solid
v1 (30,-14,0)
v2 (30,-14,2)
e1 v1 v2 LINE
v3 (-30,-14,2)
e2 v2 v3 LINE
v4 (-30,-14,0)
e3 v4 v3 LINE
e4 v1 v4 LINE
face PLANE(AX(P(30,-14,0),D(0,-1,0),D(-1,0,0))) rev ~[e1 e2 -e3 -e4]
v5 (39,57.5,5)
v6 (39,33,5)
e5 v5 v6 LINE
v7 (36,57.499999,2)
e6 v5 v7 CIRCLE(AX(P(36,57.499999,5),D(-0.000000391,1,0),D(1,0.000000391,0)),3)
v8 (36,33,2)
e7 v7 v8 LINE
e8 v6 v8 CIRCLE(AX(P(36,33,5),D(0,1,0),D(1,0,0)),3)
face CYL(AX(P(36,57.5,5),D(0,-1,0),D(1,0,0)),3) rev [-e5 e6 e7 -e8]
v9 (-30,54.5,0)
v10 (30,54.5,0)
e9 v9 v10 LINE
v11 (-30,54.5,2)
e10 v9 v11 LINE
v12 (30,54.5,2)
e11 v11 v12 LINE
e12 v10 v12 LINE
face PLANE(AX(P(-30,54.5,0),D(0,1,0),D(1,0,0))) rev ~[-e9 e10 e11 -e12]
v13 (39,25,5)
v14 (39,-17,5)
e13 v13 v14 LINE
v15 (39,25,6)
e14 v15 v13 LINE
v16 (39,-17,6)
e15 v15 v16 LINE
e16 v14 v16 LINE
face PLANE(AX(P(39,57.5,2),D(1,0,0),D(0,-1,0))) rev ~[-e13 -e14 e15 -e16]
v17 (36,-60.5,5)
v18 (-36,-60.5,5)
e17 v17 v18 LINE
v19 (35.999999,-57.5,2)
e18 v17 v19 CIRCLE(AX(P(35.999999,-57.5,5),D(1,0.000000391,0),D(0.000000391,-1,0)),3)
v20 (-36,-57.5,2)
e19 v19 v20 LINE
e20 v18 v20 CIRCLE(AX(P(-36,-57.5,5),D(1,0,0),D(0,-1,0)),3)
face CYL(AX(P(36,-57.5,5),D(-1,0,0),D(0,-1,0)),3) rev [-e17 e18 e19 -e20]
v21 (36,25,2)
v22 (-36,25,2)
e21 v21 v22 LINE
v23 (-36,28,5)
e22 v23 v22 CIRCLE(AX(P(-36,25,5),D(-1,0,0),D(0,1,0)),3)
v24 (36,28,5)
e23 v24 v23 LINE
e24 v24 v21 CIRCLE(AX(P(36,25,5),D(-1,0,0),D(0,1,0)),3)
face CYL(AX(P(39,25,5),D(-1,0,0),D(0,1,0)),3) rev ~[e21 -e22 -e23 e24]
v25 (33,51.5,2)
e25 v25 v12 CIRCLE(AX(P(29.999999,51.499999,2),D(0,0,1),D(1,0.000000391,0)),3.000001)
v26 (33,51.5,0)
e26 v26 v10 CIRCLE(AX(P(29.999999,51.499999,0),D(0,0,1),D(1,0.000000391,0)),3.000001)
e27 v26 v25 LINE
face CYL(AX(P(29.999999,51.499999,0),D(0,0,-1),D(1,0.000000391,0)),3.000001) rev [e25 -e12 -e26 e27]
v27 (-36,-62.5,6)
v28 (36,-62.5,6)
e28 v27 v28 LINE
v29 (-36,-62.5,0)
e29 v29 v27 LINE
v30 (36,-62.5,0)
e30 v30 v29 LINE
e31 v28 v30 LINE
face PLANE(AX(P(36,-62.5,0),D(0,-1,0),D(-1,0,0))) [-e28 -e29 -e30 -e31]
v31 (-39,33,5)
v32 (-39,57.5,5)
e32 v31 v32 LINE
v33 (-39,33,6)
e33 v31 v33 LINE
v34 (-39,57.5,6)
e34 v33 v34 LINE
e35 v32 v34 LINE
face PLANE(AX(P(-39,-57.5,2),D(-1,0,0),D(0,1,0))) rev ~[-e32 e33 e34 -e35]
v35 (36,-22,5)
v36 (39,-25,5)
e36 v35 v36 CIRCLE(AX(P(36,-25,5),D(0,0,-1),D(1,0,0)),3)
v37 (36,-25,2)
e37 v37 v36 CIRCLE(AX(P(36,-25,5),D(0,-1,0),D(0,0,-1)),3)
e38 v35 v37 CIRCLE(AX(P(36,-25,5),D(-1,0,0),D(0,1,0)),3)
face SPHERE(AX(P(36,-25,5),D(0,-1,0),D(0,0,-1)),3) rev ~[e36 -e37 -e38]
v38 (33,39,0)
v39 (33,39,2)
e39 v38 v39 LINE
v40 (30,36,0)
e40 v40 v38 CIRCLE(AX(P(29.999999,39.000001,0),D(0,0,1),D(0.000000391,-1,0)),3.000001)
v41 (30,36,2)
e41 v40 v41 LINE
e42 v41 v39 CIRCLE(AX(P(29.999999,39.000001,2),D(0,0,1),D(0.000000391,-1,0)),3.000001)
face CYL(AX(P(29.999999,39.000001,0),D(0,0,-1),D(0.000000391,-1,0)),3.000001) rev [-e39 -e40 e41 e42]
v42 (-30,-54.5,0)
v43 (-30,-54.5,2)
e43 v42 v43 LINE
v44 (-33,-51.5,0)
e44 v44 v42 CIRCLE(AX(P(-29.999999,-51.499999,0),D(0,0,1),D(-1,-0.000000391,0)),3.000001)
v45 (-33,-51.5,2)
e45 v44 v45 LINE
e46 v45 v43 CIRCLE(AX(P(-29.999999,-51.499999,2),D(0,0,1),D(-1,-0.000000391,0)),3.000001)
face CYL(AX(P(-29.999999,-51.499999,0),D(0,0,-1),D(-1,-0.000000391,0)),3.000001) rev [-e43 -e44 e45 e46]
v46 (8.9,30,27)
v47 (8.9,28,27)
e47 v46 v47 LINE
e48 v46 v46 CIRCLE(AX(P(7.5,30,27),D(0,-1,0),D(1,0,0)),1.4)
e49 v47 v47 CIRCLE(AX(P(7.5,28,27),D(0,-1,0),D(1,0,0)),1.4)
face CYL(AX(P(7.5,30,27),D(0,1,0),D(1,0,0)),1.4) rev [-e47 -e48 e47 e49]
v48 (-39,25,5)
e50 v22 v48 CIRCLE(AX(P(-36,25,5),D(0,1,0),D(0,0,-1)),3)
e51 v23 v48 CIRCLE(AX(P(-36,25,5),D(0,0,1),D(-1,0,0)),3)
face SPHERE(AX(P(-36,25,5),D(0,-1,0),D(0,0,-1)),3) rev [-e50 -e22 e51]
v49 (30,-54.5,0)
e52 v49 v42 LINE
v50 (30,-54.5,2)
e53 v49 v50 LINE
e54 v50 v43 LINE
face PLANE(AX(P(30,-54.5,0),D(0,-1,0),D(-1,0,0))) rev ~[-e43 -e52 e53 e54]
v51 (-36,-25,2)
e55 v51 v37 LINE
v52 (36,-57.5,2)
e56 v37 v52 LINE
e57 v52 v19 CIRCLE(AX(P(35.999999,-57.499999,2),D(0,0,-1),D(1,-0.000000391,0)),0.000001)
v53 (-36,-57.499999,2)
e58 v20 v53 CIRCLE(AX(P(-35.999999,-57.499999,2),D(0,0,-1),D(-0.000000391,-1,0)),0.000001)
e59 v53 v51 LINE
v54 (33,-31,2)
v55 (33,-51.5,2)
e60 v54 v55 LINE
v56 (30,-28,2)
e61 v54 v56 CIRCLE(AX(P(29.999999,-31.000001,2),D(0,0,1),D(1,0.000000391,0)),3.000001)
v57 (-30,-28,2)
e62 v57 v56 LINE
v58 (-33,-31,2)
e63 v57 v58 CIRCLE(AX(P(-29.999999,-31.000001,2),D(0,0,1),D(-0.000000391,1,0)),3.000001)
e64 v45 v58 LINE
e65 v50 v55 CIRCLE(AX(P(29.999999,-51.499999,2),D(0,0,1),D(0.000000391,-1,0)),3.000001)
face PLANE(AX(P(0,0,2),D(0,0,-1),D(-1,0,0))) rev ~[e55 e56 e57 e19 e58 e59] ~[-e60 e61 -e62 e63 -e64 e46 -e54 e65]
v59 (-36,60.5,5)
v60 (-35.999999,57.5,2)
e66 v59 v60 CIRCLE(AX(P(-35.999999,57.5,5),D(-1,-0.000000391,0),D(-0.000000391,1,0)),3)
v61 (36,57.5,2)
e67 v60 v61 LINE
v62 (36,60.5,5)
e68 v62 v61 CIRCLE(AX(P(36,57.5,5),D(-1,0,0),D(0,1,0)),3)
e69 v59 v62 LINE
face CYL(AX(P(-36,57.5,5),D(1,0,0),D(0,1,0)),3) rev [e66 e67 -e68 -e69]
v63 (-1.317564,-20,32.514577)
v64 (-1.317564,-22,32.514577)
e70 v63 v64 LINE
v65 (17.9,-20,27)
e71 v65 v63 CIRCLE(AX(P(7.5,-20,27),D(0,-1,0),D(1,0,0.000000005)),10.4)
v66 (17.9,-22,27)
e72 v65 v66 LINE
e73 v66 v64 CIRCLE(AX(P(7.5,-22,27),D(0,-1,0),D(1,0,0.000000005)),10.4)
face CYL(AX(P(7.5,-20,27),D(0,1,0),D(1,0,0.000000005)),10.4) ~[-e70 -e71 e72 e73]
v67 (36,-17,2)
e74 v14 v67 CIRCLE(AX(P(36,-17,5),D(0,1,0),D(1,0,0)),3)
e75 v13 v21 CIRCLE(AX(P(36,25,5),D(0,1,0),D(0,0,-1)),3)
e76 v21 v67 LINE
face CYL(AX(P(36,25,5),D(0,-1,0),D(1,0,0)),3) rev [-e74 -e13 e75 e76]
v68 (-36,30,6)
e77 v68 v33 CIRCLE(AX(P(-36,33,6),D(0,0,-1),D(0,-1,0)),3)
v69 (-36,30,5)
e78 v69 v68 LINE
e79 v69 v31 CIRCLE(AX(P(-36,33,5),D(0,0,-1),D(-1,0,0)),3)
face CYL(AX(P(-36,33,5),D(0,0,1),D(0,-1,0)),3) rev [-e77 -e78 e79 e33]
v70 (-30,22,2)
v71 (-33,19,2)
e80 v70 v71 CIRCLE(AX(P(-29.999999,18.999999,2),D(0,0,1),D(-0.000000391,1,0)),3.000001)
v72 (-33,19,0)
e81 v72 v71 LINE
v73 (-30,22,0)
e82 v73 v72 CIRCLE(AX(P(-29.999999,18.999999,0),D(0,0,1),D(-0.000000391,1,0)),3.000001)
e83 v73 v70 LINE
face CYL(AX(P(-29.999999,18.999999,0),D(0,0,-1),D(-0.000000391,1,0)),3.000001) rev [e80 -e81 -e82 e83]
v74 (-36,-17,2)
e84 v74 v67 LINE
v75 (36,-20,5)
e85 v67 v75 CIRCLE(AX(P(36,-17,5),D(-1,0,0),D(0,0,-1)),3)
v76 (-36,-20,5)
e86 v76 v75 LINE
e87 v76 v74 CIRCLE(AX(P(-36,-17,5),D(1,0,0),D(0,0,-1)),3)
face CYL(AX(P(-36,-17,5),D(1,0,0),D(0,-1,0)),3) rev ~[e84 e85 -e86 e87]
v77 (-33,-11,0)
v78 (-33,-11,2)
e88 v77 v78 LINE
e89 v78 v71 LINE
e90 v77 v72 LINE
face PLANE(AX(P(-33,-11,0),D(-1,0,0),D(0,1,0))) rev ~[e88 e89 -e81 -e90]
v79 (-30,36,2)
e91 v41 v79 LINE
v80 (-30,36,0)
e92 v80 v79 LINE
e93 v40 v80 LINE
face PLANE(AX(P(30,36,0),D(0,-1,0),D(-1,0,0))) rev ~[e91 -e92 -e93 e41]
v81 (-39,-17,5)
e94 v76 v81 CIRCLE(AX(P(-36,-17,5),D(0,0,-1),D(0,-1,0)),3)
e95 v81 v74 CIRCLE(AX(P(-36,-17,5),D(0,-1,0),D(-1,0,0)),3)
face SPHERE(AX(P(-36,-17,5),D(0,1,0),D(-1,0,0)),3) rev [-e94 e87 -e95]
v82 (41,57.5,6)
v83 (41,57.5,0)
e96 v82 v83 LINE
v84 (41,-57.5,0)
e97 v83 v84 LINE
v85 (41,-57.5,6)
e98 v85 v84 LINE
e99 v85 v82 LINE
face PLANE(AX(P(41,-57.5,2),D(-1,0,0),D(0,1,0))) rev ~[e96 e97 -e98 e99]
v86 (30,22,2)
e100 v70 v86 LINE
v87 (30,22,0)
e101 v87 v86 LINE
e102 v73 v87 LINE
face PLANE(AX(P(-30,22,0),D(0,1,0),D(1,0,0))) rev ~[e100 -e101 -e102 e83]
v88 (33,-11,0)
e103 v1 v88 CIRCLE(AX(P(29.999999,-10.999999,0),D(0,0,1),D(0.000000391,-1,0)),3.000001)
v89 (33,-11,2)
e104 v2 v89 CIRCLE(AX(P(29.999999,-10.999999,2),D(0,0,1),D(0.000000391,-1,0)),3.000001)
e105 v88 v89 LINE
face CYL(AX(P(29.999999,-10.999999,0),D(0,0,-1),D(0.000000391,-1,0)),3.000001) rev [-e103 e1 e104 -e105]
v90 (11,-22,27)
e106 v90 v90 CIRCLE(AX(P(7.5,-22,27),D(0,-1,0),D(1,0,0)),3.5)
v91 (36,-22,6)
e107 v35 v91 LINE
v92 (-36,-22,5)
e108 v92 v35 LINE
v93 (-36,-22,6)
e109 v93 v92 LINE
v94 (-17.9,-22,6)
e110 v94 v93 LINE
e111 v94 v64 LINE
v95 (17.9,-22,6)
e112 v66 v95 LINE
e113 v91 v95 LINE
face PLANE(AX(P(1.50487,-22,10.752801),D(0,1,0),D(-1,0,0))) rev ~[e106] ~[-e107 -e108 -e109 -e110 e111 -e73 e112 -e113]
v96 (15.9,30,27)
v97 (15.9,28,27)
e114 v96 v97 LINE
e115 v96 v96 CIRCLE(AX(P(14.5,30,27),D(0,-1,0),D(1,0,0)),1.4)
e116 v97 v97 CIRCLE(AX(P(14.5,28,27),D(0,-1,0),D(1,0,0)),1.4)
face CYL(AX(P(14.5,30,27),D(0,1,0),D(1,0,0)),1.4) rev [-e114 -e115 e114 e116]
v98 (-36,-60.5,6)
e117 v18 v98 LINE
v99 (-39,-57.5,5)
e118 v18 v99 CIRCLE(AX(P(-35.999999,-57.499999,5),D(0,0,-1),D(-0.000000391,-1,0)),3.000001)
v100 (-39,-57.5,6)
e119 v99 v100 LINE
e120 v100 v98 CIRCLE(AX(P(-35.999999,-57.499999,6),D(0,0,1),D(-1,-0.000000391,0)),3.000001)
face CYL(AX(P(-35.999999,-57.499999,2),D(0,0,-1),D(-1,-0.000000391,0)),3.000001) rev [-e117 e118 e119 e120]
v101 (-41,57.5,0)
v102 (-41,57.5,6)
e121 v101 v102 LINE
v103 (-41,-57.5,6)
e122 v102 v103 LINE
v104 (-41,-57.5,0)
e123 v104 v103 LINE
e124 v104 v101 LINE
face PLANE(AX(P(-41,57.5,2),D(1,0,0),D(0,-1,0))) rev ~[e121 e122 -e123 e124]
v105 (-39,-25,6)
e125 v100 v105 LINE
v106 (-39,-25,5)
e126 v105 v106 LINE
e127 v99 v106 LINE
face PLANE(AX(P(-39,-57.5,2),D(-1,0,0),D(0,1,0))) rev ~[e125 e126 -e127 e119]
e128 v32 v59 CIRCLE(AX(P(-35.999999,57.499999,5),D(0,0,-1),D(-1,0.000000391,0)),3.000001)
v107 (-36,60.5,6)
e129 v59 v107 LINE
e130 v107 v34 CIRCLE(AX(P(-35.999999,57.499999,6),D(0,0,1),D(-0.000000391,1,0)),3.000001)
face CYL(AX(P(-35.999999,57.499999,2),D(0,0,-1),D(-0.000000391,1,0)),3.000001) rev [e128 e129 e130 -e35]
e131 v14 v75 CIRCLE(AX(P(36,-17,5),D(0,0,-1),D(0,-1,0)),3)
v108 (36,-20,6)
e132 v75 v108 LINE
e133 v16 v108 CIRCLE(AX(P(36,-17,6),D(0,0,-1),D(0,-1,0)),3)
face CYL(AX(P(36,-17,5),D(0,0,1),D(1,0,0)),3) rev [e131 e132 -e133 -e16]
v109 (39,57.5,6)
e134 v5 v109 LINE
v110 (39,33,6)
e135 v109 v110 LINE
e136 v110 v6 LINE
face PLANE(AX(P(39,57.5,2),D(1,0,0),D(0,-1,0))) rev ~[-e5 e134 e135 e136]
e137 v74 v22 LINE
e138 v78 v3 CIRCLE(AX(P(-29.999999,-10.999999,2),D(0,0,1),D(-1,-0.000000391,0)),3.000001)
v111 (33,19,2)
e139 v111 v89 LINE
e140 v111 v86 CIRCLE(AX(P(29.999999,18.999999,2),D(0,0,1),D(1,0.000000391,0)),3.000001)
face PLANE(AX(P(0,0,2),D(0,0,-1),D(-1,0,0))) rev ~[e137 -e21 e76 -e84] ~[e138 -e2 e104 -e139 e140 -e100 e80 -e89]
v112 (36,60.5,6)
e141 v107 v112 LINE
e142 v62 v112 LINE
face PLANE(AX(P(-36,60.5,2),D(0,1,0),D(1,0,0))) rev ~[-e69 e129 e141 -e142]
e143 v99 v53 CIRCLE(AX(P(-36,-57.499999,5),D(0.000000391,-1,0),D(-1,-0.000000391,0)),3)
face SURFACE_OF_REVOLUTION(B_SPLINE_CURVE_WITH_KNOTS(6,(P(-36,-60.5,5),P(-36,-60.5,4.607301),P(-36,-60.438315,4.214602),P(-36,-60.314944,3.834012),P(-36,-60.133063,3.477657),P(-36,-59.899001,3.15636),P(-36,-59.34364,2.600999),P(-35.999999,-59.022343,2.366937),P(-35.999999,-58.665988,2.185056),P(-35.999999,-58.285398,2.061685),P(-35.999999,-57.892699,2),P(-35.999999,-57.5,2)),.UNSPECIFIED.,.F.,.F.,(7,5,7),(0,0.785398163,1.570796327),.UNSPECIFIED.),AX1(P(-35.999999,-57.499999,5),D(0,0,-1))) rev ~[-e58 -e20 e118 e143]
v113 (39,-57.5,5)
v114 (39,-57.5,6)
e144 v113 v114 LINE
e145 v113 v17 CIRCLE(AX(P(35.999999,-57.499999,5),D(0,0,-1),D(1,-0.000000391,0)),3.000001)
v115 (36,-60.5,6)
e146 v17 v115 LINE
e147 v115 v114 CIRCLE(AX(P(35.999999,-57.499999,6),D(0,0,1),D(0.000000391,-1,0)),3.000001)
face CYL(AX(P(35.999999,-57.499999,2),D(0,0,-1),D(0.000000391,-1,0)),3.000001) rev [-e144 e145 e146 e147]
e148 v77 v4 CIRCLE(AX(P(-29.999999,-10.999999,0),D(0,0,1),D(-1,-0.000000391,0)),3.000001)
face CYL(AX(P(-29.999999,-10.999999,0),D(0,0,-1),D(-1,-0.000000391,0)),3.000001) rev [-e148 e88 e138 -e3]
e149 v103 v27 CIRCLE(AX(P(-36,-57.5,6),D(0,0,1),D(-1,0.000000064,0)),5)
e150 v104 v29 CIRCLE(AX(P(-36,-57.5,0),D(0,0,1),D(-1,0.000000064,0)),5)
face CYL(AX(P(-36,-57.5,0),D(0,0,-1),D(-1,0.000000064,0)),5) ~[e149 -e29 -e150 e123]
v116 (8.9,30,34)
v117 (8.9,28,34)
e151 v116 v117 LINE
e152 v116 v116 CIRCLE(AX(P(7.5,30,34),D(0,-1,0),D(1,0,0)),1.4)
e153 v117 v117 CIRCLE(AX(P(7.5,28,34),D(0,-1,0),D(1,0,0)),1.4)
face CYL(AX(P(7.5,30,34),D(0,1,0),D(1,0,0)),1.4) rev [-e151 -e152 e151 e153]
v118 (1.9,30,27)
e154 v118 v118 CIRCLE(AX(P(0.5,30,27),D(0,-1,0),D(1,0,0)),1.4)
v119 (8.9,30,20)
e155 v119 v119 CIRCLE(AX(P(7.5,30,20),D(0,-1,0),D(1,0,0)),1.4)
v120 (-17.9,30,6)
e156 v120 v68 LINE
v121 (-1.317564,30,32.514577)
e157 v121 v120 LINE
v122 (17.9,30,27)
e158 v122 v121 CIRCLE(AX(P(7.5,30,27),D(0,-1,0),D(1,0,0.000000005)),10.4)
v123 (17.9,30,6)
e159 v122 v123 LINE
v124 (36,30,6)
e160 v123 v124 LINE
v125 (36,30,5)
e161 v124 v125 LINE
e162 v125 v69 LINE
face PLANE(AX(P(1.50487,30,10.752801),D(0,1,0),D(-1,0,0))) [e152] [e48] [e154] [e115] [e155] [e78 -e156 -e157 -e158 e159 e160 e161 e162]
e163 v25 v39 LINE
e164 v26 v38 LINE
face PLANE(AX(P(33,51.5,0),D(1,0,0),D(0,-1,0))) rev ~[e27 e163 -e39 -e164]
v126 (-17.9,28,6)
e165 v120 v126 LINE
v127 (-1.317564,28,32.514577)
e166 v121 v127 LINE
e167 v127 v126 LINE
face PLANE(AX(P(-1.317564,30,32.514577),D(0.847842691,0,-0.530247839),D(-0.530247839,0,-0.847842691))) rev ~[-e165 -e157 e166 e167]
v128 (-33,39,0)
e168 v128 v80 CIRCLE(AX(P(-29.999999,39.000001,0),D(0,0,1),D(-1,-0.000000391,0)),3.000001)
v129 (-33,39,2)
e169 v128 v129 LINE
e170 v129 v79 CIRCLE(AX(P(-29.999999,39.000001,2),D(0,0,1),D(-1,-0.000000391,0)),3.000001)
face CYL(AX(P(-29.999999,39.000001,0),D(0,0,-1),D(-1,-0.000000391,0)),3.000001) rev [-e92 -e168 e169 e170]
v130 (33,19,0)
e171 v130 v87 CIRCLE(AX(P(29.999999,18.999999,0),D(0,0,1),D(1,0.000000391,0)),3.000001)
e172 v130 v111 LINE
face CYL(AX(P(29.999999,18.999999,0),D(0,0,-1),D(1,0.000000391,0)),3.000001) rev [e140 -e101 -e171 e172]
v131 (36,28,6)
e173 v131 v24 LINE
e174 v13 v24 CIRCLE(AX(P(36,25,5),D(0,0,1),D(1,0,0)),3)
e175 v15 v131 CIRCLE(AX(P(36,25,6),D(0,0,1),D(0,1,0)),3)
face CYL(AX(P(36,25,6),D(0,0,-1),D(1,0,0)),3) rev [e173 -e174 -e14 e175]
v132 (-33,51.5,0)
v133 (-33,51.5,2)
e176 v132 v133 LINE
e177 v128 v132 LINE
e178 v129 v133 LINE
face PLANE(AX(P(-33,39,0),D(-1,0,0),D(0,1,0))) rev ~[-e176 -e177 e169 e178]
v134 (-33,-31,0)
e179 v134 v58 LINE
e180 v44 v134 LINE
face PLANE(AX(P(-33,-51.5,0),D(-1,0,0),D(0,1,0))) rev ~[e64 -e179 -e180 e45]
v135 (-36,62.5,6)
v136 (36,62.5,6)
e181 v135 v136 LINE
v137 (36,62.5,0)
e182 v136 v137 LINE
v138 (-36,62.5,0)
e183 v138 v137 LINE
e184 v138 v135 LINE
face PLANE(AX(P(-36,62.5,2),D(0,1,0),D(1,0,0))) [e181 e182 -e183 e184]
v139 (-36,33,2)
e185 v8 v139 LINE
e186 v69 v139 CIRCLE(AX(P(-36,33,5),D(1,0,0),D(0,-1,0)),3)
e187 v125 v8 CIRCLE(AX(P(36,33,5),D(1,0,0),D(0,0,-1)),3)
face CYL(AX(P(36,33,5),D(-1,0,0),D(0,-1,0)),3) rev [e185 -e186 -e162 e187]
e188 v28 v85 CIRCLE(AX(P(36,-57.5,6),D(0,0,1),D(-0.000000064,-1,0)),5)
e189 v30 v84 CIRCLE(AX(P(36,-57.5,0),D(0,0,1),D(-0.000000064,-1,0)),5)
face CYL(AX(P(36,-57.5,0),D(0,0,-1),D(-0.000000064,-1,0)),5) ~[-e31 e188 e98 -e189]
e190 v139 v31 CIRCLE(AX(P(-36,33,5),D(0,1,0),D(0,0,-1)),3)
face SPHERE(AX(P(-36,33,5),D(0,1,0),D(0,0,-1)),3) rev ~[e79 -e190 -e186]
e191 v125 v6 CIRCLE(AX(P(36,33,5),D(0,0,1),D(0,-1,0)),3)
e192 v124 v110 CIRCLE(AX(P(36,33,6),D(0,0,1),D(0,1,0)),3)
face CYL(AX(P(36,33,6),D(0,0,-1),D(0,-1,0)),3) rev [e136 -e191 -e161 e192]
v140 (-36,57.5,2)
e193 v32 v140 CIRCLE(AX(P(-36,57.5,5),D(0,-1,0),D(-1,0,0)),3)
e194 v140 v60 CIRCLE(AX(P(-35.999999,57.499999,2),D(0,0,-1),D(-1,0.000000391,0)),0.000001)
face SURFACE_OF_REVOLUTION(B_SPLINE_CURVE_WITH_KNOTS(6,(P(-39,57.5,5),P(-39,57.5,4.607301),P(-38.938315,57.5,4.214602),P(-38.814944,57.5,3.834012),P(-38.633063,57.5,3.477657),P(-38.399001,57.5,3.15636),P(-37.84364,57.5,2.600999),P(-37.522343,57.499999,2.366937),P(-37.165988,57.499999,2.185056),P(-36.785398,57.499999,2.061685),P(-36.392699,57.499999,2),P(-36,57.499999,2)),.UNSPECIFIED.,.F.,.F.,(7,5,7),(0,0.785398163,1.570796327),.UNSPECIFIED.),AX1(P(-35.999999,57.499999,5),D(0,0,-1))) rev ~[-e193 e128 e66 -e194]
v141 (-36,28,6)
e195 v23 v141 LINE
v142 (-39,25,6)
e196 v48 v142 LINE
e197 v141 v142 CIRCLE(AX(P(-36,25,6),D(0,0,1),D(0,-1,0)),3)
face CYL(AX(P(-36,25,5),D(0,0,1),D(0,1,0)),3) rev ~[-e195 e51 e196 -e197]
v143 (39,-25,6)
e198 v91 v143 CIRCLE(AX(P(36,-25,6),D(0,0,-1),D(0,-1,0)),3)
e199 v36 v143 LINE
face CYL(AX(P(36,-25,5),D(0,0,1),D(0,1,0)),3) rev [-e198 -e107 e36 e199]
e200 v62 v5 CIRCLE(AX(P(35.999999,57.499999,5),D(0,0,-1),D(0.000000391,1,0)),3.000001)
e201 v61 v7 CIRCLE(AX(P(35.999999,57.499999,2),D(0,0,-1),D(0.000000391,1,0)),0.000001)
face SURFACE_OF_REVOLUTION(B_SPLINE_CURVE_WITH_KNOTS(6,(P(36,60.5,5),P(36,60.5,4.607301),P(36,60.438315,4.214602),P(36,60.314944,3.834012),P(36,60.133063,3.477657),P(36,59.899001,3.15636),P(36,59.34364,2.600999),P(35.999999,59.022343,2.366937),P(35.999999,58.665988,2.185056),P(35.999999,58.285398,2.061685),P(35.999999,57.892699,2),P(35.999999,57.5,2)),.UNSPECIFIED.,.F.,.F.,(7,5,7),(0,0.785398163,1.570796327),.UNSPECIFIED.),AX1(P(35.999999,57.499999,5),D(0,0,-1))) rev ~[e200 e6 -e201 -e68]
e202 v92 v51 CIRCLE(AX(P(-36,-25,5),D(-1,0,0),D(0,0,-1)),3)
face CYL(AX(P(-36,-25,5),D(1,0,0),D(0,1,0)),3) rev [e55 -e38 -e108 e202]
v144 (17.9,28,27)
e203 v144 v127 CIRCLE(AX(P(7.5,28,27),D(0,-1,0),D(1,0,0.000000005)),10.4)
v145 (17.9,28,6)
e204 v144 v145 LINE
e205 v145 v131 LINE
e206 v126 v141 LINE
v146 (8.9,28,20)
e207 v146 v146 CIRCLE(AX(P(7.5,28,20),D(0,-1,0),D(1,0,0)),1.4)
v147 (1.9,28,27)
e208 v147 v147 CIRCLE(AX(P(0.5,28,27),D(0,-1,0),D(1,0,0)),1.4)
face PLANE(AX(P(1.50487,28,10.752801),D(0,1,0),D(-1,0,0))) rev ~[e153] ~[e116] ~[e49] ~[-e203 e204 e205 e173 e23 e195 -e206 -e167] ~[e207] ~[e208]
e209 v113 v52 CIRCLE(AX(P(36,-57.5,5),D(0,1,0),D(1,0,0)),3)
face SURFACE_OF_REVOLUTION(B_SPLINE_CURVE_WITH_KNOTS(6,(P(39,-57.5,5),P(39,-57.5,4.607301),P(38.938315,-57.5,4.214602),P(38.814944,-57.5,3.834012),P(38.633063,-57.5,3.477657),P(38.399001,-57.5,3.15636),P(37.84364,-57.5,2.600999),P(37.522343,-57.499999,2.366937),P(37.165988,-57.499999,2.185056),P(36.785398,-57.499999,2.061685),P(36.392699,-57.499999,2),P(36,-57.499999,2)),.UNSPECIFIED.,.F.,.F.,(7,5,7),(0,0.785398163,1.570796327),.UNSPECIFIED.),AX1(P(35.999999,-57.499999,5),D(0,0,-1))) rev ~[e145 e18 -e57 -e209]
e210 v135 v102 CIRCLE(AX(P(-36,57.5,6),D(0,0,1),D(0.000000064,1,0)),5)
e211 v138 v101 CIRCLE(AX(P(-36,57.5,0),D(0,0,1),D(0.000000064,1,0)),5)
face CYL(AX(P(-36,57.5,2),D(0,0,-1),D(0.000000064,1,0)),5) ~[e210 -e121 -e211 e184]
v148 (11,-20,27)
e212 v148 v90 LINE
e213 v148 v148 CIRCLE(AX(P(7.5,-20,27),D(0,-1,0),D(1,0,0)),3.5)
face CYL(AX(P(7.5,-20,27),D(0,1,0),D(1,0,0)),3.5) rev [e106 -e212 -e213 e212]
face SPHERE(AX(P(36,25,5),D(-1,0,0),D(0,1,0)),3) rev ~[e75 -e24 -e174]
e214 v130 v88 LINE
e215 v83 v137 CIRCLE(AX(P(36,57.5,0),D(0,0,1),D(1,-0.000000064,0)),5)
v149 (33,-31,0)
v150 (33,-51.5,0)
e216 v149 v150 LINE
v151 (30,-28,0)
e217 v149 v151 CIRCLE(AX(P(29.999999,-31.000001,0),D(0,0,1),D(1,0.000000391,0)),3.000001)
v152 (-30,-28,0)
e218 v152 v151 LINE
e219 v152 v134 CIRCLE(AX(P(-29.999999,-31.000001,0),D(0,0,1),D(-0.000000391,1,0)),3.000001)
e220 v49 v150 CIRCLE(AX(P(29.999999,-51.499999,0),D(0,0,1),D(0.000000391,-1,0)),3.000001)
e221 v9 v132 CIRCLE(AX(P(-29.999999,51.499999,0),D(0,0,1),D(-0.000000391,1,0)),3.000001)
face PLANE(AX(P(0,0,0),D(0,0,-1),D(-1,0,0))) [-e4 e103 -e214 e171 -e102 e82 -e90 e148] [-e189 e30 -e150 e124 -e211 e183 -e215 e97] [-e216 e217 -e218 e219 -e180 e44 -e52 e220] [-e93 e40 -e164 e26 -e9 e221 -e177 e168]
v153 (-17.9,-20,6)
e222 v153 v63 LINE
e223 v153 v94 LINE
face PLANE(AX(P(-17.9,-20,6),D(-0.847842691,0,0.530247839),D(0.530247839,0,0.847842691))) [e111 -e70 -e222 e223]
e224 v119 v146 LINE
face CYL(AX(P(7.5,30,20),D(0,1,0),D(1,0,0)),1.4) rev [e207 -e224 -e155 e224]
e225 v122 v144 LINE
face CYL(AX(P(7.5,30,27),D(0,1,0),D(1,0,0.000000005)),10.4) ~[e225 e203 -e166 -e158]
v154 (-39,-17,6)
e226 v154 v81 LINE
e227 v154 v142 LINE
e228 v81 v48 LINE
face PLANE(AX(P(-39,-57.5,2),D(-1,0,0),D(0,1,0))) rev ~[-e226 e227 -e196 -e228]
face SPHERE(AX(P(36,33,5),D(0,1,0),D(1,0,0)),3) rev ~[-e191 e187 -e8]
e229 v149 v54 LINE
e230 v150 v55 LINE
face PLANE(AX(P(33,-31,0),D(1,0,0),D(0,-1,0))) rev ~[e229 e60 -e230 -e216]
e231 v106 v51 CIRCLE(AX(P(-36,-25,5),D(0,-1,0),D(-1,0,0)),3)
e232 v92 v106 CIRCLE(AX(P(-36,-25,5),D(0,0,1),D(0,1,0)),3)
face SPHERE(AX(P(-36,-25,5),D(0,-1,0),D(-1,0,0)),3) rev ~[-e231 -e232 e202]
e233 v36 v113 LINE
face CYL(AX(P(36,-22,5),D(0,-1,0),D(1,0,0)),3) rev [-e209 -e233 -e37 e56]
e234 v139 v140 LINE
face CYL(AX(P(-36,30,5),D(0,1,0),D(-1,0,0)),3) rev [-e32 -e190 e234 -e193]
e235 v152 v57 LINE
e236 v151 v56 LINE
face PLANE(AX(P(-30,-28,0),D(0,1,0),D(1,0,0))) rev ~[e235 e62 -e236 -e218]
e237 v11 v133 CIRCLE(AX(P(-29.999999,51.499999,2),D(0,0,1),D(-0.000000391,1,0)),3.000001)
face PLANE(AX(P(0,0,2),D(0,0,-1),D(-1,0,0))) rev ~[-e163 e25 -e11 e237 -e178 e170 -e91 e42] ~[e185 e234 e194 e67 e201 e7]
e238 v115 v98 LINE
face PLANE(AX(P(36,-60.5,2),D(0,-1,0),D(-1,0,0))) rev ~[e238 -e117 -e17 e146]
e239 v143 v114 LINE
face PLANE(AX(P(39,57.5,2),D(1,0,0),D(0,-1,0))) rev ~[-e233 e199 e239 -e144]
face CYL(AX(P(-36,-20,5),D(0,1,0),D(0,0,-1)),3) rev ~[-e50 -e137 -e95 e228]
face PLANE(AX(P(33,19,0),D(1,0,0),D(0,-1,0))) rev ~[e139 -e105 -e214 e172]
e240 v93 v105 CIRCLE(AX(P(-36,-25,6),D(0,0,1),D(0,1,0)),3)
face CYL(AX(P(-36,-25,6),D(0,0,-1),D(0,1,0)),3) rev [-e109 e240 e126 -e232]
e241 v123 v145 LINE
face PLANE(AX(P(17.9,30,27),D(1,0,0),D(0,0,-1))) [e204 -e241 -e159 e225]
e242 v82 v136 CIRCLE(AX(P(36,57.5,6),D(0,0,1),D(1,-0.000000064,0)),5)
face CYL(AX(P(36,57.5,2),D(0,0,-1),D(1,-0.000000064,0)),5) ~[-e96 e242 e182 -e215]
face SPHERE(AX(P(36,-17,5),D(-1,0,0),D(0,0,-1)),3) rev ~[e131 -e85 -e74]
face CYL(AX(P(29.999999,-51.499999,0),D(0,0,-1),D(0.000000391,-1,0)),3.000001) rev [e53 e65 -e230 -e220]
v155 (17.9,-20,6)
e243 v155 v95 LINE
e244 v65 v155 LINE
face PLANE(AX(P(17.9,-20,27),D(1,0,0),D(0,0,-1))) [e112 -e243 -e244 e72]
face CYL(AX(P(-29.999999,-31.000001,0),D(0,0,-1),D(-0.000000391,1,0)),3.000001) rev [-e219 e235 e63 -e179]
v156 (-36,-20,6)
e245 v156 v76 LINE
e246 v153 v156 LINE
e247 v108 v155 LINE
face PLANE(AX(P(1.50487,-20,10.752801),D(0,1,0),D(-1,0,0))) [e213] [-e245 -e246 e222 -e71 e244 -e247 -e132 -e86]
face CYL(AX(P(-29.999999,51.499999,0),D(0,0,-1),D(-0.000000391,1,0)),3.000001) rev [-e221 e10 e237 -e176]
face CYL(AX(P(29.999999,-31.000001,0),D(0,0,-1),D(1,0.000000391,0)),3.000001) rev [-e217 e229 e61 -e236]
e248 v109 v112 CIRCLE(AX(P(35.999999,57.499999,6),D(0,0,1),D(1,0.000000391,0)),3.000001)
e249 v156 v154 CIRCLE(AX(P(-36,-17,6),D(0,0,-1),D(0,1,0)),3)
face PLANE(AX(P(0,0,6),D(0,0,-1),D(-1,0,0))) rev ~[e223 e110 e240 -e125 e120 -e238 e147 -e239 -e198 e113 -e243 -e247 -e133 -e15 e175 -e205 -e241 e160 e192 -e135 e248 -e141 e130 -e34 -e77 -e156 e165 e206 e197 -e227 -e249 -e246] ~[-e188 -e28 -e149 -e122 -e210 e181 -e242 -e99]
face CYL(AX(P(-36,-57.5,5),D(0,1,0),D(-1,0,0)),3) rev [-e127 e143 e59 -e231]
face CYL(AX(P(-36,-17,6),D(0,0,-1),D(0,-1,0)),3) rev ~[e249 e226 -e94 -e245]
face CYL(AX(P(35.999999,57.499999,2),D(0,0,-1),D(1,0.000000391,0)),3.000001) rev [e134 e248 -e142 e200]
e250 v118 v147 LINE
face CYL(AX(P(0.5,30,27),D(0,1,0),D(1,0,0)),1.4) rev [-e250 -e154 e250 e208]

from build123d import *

# Parameters (mm, degrees)
PAD_DEPTH    = 2
SKETCH001_R  = 3.5
PAD001_DEPTH = 2
SKETCH003_R  = 1.4
PAD003_DEPTH = 2
PAD004_DEPTH = 4
FILLET_R     = 3
FILLET001_R  = 3
FILLET002_R  = 3
FILLET003_R  = 3
FILLET004_R  = 3
FILLET005_R  = 3
FILLET006_R  = 3
FILLET007_R  = 3


with BuildPart() as part:
    # Sketch → Pad (new body)
    with BuildSketch(Plane.XY):
        with BuildLine():
            Line((-36, 62.5), (36, 62.5))
            ThreePointArc((41, 57.5), (39.535534, 61.035534), (36, 62.5))
            Line((41, 57.5), (41, -57.5))
            ThreePointArc((36, -62.5), (39.535534, -61.035534), (41, -57.5))
            Line((36, -62.5), (-36, -62.5))
            ThreePointArc((-41, -57.5), (-39.535534, -61.035534), (-36, -62.5))
            Line((-41, -57.5), (-41, 57.5))
            ThreePointArc((-36, 62.5), (-39.535534, 61.035534), (-41, 57.5))
        make_face()
        with BuildLine():
            ThreePointArc((-30, 54.5), (-32.12132, 53.62132), (-33, 51.5))
            Line((-33, 39), (-33, 51.5))
            ThreePointArc((-33, 39), (-32.12132, 36.87868), (-30, 36))
            Line((30, 36), (-30, 36))
            ThreePointArc((30, 36), (32.12132, 36.87868), (33, 39))
            Line((33, 51.5), (33, 39))
            ThreePointArc((33, 51.5), (32.12132, 53.62132), (30, 54.5))
            Line((-30, 54.5), (30, 54.5))
        make_face(mode=Mode.SUBTRACT)
        with BuildLine():
            ThreePointArc((-30, -28), (-32.12132, -28.87868), (-33, -31))
            Line((-33, -51.5), (-33, -31))
            ThreePointArc((-33, -51.5), (-32.12132, -53.62132), (-30, -54.5))
            Line((30, -54.5), (-30, -54.5))
            ThreePointArc((30, -54.5), (32.12132, -53.62132), (33, -51.5))
            Line((33, -31), (33, -51.5))
            ThreePointArc((33, -31), (32.12132, -28.87868), (30, -28))
            Line((-30, -28), (30, -28))
        make_face(mode=Mode.SUBTRACT)
        with BuildLine():
            ThreePointArc((-30, 22), (-32.12132, 21.12132), (-33, 19))
            Line((-33, -11), (-33, 19))
            ThreePointArc((-33, -11), (-32.12132, -13.12132), (-30, -14))
            Line((30, -14), (-30, -14))
            ThreePointArc((30, -14), (32.12132, -13.12132), (33, -11))
            Line((33, 19), (33, -11))
            ThreePointArc((33, 19), (32.12132, 21.12132), (30, 22))
            Line((-30, 22), (30, 22))
        make_face(mode=Mode.SUBTRACT)
    extrude(amount=PAD_DEPTH)

    # Sketch001 → Pad001 (join)
    with BuildSketch(Plane(origin=(7.5, -20, 0), x_dir=(1, 0, 0), z_dir=(0, -1, 0))):
        with BuildLine():
            Line((10.4, 27), (10.4, 6))
            Line((33.5, 6), (10.4, 6))
            Line((33.5, 2), (33.5, 6))
            Line((-48.5, 2), (33.5, 2))
            Line((-48.5, 6), (-48.5, 2))
            Line((-25.4, 6), (-48.5, 6))
            Line((-25.4, 6), (-8.817564, 32.514577))
            ThreePointArc((10.4, 27), (2.868565, 36.996566), (-8.817564, 32.514577))
        make_face()
        with Locations((0, 27)):
            Circle(SKETCH001_R, mode=Mode.SUBTRACT)
    extrude(amount=PAD001_DEPTH)

    # Sketch003 → Pad003 (join)
    with BuildSketch(Plane(origin=(7.5, 30, 0), x_dir=(1, 0, 0), z_dir=(0, -1, 0))):
        with BuildLine():
            Line((33.5, 2), (-48.5, 2))
            Line((-48.5, 6), (-48.5, 2))
            Line((-25.4, 6), (-48.5, 6))
            Line((-8.817564, 32.514577), (-25.4, 6))
            ThreePointArc((10.4, 27), (2.868565, 36.996566), (-8.817564, 32.514577))
            Line((10.4, 27), (10.4, 6))
            Line((10.4, 6), (33.5, 6))
            Line((33.5, 6), (33.5, 2))
        make_face()
        with Locations((0, 27)):
            Circle(SKETCH003_R, mode=Mode.SUBTRACT)
        with Locations((-7, 27)):
            Circle(SKETCH003_R, mode=Mode.SUBTRACT)
        with Locations((0, 20)):
            Circle(SKETCH003_R, mode=Mode.SUBTRACT)
        with Locations((7, 27)):
            Circle(SKETCH003_R, mode=Mode.SUBTRACT)
        with Locations((0, 34)):
            Circle(SKETCH003_R, mode=Mode.SUBTRACT)
    extrude(amount=PAD003_DEPTH)

    # Sketch004 (on Face5 of Pad003) → Pad004 (join)
    with BuildSketch(Plane.XY.offset(2)):
        with BuildLine():
            Line((-36, 62.5), (36, 62.5))
            ThreePointArc((41, 57.5), (39.535534, 61.035534), (36, 62.5))
            Line((41, -57.5), (41, 57.5))
            ThreePointArc((36, -62.5), (39.535534, -61.035534), (41, -57.5))
            Line((-36, -62.5), (36, -62.5))
            ThreePointArc((-41, -57.5), (-39.535534, -61.035534), (-36, -62.5))
            Line((-41, 57.5), (-41, -57.5))
            ThreePointArc((-36, 62.5), (-39.535534, 61.035534), (-41, 57.5))
        make_face()
        with BuildLine():
            Line((-36, 60.5), (36, 60.5))
            ThreePointArc((39, 57.5), (38.12132, 59.62132), (36, 60.5))
            Line((39, 57.5), (39, -57.5))
            ThreePointArc((36, -60.5), (38.12132, -59.62132), (39, -57.5))
            Line((36, -60.5), (-36, -60.5))
            ThreePointArc((-39, -57.5), (-38.12132, -59.62132), (-36, -60.5))
            Line((-39, -57.5), (-39, 57.5))
            ThreePointArc((-36, 60.5), (-38.12132, 59.62132), (-39, 57.5))
        make_face(mode=Mode.SUBTRACT)
    extrude(amount=PAD004_DEPTH)

    # Fillet
    fillet_edges = [part.edges().sort_by_distance(p)[0] for p in [
        (-39, 4, 2),
    ]]
    fillet(fillet_edges, radius=FILLET_R)

    # Fillet001
    fillet001_edges = [part.edges().sort_by_distance(p)[0] for p in [
        (-39, -39.75, 2),
    ]]
    fillet(fillet001_edges, radius=FILLET001_R)

    # Fillet002
    fillet002_edges = [part.edges().sort_by_distance(p)[0] for p in [
        (0, -22, 2),
    ]]
    fillet(fillet002_edges, radius=FILLET002_R)

    # Fillet003
    fillet003_edges = [part.edges().sort_by_distance(p)[0] for p in [
        (1.5, 28, 2),
    ]]
    fillet(fillet003_edges, radius=FILLET003_R)

    # Fillet004
    fillet004_edges = [part.edges().sort_by_distance(p)[0] for p in [
        (1.5, -20, 2),
    ]]
    fillet(fillet004_edges, radius=FILLET004_R)

    # Fillet005
    fillet005_edges = [part.edges().sort_by_distance(p)[0] for p in [
        (39, 4, 2),
    ]]
    fillet(fillet005_edges, radius=FILLET005_R)

    # Fillet006
    fillet006_edges = [part.edges().sort_by_distance(p)[0] for p in [
        (0, 60.5, 2),
    ]]
    fillet(fillet006_edges, radius=FILLET006_R)

    # Fillet007
    fillet007_edges = [part.edges().sort_by_distance(p)[0] for p in [
        (0, 30, 2),
    ]]
    fillet(fillet007_edges, radius=FILLET007_R)


solid = part.part
